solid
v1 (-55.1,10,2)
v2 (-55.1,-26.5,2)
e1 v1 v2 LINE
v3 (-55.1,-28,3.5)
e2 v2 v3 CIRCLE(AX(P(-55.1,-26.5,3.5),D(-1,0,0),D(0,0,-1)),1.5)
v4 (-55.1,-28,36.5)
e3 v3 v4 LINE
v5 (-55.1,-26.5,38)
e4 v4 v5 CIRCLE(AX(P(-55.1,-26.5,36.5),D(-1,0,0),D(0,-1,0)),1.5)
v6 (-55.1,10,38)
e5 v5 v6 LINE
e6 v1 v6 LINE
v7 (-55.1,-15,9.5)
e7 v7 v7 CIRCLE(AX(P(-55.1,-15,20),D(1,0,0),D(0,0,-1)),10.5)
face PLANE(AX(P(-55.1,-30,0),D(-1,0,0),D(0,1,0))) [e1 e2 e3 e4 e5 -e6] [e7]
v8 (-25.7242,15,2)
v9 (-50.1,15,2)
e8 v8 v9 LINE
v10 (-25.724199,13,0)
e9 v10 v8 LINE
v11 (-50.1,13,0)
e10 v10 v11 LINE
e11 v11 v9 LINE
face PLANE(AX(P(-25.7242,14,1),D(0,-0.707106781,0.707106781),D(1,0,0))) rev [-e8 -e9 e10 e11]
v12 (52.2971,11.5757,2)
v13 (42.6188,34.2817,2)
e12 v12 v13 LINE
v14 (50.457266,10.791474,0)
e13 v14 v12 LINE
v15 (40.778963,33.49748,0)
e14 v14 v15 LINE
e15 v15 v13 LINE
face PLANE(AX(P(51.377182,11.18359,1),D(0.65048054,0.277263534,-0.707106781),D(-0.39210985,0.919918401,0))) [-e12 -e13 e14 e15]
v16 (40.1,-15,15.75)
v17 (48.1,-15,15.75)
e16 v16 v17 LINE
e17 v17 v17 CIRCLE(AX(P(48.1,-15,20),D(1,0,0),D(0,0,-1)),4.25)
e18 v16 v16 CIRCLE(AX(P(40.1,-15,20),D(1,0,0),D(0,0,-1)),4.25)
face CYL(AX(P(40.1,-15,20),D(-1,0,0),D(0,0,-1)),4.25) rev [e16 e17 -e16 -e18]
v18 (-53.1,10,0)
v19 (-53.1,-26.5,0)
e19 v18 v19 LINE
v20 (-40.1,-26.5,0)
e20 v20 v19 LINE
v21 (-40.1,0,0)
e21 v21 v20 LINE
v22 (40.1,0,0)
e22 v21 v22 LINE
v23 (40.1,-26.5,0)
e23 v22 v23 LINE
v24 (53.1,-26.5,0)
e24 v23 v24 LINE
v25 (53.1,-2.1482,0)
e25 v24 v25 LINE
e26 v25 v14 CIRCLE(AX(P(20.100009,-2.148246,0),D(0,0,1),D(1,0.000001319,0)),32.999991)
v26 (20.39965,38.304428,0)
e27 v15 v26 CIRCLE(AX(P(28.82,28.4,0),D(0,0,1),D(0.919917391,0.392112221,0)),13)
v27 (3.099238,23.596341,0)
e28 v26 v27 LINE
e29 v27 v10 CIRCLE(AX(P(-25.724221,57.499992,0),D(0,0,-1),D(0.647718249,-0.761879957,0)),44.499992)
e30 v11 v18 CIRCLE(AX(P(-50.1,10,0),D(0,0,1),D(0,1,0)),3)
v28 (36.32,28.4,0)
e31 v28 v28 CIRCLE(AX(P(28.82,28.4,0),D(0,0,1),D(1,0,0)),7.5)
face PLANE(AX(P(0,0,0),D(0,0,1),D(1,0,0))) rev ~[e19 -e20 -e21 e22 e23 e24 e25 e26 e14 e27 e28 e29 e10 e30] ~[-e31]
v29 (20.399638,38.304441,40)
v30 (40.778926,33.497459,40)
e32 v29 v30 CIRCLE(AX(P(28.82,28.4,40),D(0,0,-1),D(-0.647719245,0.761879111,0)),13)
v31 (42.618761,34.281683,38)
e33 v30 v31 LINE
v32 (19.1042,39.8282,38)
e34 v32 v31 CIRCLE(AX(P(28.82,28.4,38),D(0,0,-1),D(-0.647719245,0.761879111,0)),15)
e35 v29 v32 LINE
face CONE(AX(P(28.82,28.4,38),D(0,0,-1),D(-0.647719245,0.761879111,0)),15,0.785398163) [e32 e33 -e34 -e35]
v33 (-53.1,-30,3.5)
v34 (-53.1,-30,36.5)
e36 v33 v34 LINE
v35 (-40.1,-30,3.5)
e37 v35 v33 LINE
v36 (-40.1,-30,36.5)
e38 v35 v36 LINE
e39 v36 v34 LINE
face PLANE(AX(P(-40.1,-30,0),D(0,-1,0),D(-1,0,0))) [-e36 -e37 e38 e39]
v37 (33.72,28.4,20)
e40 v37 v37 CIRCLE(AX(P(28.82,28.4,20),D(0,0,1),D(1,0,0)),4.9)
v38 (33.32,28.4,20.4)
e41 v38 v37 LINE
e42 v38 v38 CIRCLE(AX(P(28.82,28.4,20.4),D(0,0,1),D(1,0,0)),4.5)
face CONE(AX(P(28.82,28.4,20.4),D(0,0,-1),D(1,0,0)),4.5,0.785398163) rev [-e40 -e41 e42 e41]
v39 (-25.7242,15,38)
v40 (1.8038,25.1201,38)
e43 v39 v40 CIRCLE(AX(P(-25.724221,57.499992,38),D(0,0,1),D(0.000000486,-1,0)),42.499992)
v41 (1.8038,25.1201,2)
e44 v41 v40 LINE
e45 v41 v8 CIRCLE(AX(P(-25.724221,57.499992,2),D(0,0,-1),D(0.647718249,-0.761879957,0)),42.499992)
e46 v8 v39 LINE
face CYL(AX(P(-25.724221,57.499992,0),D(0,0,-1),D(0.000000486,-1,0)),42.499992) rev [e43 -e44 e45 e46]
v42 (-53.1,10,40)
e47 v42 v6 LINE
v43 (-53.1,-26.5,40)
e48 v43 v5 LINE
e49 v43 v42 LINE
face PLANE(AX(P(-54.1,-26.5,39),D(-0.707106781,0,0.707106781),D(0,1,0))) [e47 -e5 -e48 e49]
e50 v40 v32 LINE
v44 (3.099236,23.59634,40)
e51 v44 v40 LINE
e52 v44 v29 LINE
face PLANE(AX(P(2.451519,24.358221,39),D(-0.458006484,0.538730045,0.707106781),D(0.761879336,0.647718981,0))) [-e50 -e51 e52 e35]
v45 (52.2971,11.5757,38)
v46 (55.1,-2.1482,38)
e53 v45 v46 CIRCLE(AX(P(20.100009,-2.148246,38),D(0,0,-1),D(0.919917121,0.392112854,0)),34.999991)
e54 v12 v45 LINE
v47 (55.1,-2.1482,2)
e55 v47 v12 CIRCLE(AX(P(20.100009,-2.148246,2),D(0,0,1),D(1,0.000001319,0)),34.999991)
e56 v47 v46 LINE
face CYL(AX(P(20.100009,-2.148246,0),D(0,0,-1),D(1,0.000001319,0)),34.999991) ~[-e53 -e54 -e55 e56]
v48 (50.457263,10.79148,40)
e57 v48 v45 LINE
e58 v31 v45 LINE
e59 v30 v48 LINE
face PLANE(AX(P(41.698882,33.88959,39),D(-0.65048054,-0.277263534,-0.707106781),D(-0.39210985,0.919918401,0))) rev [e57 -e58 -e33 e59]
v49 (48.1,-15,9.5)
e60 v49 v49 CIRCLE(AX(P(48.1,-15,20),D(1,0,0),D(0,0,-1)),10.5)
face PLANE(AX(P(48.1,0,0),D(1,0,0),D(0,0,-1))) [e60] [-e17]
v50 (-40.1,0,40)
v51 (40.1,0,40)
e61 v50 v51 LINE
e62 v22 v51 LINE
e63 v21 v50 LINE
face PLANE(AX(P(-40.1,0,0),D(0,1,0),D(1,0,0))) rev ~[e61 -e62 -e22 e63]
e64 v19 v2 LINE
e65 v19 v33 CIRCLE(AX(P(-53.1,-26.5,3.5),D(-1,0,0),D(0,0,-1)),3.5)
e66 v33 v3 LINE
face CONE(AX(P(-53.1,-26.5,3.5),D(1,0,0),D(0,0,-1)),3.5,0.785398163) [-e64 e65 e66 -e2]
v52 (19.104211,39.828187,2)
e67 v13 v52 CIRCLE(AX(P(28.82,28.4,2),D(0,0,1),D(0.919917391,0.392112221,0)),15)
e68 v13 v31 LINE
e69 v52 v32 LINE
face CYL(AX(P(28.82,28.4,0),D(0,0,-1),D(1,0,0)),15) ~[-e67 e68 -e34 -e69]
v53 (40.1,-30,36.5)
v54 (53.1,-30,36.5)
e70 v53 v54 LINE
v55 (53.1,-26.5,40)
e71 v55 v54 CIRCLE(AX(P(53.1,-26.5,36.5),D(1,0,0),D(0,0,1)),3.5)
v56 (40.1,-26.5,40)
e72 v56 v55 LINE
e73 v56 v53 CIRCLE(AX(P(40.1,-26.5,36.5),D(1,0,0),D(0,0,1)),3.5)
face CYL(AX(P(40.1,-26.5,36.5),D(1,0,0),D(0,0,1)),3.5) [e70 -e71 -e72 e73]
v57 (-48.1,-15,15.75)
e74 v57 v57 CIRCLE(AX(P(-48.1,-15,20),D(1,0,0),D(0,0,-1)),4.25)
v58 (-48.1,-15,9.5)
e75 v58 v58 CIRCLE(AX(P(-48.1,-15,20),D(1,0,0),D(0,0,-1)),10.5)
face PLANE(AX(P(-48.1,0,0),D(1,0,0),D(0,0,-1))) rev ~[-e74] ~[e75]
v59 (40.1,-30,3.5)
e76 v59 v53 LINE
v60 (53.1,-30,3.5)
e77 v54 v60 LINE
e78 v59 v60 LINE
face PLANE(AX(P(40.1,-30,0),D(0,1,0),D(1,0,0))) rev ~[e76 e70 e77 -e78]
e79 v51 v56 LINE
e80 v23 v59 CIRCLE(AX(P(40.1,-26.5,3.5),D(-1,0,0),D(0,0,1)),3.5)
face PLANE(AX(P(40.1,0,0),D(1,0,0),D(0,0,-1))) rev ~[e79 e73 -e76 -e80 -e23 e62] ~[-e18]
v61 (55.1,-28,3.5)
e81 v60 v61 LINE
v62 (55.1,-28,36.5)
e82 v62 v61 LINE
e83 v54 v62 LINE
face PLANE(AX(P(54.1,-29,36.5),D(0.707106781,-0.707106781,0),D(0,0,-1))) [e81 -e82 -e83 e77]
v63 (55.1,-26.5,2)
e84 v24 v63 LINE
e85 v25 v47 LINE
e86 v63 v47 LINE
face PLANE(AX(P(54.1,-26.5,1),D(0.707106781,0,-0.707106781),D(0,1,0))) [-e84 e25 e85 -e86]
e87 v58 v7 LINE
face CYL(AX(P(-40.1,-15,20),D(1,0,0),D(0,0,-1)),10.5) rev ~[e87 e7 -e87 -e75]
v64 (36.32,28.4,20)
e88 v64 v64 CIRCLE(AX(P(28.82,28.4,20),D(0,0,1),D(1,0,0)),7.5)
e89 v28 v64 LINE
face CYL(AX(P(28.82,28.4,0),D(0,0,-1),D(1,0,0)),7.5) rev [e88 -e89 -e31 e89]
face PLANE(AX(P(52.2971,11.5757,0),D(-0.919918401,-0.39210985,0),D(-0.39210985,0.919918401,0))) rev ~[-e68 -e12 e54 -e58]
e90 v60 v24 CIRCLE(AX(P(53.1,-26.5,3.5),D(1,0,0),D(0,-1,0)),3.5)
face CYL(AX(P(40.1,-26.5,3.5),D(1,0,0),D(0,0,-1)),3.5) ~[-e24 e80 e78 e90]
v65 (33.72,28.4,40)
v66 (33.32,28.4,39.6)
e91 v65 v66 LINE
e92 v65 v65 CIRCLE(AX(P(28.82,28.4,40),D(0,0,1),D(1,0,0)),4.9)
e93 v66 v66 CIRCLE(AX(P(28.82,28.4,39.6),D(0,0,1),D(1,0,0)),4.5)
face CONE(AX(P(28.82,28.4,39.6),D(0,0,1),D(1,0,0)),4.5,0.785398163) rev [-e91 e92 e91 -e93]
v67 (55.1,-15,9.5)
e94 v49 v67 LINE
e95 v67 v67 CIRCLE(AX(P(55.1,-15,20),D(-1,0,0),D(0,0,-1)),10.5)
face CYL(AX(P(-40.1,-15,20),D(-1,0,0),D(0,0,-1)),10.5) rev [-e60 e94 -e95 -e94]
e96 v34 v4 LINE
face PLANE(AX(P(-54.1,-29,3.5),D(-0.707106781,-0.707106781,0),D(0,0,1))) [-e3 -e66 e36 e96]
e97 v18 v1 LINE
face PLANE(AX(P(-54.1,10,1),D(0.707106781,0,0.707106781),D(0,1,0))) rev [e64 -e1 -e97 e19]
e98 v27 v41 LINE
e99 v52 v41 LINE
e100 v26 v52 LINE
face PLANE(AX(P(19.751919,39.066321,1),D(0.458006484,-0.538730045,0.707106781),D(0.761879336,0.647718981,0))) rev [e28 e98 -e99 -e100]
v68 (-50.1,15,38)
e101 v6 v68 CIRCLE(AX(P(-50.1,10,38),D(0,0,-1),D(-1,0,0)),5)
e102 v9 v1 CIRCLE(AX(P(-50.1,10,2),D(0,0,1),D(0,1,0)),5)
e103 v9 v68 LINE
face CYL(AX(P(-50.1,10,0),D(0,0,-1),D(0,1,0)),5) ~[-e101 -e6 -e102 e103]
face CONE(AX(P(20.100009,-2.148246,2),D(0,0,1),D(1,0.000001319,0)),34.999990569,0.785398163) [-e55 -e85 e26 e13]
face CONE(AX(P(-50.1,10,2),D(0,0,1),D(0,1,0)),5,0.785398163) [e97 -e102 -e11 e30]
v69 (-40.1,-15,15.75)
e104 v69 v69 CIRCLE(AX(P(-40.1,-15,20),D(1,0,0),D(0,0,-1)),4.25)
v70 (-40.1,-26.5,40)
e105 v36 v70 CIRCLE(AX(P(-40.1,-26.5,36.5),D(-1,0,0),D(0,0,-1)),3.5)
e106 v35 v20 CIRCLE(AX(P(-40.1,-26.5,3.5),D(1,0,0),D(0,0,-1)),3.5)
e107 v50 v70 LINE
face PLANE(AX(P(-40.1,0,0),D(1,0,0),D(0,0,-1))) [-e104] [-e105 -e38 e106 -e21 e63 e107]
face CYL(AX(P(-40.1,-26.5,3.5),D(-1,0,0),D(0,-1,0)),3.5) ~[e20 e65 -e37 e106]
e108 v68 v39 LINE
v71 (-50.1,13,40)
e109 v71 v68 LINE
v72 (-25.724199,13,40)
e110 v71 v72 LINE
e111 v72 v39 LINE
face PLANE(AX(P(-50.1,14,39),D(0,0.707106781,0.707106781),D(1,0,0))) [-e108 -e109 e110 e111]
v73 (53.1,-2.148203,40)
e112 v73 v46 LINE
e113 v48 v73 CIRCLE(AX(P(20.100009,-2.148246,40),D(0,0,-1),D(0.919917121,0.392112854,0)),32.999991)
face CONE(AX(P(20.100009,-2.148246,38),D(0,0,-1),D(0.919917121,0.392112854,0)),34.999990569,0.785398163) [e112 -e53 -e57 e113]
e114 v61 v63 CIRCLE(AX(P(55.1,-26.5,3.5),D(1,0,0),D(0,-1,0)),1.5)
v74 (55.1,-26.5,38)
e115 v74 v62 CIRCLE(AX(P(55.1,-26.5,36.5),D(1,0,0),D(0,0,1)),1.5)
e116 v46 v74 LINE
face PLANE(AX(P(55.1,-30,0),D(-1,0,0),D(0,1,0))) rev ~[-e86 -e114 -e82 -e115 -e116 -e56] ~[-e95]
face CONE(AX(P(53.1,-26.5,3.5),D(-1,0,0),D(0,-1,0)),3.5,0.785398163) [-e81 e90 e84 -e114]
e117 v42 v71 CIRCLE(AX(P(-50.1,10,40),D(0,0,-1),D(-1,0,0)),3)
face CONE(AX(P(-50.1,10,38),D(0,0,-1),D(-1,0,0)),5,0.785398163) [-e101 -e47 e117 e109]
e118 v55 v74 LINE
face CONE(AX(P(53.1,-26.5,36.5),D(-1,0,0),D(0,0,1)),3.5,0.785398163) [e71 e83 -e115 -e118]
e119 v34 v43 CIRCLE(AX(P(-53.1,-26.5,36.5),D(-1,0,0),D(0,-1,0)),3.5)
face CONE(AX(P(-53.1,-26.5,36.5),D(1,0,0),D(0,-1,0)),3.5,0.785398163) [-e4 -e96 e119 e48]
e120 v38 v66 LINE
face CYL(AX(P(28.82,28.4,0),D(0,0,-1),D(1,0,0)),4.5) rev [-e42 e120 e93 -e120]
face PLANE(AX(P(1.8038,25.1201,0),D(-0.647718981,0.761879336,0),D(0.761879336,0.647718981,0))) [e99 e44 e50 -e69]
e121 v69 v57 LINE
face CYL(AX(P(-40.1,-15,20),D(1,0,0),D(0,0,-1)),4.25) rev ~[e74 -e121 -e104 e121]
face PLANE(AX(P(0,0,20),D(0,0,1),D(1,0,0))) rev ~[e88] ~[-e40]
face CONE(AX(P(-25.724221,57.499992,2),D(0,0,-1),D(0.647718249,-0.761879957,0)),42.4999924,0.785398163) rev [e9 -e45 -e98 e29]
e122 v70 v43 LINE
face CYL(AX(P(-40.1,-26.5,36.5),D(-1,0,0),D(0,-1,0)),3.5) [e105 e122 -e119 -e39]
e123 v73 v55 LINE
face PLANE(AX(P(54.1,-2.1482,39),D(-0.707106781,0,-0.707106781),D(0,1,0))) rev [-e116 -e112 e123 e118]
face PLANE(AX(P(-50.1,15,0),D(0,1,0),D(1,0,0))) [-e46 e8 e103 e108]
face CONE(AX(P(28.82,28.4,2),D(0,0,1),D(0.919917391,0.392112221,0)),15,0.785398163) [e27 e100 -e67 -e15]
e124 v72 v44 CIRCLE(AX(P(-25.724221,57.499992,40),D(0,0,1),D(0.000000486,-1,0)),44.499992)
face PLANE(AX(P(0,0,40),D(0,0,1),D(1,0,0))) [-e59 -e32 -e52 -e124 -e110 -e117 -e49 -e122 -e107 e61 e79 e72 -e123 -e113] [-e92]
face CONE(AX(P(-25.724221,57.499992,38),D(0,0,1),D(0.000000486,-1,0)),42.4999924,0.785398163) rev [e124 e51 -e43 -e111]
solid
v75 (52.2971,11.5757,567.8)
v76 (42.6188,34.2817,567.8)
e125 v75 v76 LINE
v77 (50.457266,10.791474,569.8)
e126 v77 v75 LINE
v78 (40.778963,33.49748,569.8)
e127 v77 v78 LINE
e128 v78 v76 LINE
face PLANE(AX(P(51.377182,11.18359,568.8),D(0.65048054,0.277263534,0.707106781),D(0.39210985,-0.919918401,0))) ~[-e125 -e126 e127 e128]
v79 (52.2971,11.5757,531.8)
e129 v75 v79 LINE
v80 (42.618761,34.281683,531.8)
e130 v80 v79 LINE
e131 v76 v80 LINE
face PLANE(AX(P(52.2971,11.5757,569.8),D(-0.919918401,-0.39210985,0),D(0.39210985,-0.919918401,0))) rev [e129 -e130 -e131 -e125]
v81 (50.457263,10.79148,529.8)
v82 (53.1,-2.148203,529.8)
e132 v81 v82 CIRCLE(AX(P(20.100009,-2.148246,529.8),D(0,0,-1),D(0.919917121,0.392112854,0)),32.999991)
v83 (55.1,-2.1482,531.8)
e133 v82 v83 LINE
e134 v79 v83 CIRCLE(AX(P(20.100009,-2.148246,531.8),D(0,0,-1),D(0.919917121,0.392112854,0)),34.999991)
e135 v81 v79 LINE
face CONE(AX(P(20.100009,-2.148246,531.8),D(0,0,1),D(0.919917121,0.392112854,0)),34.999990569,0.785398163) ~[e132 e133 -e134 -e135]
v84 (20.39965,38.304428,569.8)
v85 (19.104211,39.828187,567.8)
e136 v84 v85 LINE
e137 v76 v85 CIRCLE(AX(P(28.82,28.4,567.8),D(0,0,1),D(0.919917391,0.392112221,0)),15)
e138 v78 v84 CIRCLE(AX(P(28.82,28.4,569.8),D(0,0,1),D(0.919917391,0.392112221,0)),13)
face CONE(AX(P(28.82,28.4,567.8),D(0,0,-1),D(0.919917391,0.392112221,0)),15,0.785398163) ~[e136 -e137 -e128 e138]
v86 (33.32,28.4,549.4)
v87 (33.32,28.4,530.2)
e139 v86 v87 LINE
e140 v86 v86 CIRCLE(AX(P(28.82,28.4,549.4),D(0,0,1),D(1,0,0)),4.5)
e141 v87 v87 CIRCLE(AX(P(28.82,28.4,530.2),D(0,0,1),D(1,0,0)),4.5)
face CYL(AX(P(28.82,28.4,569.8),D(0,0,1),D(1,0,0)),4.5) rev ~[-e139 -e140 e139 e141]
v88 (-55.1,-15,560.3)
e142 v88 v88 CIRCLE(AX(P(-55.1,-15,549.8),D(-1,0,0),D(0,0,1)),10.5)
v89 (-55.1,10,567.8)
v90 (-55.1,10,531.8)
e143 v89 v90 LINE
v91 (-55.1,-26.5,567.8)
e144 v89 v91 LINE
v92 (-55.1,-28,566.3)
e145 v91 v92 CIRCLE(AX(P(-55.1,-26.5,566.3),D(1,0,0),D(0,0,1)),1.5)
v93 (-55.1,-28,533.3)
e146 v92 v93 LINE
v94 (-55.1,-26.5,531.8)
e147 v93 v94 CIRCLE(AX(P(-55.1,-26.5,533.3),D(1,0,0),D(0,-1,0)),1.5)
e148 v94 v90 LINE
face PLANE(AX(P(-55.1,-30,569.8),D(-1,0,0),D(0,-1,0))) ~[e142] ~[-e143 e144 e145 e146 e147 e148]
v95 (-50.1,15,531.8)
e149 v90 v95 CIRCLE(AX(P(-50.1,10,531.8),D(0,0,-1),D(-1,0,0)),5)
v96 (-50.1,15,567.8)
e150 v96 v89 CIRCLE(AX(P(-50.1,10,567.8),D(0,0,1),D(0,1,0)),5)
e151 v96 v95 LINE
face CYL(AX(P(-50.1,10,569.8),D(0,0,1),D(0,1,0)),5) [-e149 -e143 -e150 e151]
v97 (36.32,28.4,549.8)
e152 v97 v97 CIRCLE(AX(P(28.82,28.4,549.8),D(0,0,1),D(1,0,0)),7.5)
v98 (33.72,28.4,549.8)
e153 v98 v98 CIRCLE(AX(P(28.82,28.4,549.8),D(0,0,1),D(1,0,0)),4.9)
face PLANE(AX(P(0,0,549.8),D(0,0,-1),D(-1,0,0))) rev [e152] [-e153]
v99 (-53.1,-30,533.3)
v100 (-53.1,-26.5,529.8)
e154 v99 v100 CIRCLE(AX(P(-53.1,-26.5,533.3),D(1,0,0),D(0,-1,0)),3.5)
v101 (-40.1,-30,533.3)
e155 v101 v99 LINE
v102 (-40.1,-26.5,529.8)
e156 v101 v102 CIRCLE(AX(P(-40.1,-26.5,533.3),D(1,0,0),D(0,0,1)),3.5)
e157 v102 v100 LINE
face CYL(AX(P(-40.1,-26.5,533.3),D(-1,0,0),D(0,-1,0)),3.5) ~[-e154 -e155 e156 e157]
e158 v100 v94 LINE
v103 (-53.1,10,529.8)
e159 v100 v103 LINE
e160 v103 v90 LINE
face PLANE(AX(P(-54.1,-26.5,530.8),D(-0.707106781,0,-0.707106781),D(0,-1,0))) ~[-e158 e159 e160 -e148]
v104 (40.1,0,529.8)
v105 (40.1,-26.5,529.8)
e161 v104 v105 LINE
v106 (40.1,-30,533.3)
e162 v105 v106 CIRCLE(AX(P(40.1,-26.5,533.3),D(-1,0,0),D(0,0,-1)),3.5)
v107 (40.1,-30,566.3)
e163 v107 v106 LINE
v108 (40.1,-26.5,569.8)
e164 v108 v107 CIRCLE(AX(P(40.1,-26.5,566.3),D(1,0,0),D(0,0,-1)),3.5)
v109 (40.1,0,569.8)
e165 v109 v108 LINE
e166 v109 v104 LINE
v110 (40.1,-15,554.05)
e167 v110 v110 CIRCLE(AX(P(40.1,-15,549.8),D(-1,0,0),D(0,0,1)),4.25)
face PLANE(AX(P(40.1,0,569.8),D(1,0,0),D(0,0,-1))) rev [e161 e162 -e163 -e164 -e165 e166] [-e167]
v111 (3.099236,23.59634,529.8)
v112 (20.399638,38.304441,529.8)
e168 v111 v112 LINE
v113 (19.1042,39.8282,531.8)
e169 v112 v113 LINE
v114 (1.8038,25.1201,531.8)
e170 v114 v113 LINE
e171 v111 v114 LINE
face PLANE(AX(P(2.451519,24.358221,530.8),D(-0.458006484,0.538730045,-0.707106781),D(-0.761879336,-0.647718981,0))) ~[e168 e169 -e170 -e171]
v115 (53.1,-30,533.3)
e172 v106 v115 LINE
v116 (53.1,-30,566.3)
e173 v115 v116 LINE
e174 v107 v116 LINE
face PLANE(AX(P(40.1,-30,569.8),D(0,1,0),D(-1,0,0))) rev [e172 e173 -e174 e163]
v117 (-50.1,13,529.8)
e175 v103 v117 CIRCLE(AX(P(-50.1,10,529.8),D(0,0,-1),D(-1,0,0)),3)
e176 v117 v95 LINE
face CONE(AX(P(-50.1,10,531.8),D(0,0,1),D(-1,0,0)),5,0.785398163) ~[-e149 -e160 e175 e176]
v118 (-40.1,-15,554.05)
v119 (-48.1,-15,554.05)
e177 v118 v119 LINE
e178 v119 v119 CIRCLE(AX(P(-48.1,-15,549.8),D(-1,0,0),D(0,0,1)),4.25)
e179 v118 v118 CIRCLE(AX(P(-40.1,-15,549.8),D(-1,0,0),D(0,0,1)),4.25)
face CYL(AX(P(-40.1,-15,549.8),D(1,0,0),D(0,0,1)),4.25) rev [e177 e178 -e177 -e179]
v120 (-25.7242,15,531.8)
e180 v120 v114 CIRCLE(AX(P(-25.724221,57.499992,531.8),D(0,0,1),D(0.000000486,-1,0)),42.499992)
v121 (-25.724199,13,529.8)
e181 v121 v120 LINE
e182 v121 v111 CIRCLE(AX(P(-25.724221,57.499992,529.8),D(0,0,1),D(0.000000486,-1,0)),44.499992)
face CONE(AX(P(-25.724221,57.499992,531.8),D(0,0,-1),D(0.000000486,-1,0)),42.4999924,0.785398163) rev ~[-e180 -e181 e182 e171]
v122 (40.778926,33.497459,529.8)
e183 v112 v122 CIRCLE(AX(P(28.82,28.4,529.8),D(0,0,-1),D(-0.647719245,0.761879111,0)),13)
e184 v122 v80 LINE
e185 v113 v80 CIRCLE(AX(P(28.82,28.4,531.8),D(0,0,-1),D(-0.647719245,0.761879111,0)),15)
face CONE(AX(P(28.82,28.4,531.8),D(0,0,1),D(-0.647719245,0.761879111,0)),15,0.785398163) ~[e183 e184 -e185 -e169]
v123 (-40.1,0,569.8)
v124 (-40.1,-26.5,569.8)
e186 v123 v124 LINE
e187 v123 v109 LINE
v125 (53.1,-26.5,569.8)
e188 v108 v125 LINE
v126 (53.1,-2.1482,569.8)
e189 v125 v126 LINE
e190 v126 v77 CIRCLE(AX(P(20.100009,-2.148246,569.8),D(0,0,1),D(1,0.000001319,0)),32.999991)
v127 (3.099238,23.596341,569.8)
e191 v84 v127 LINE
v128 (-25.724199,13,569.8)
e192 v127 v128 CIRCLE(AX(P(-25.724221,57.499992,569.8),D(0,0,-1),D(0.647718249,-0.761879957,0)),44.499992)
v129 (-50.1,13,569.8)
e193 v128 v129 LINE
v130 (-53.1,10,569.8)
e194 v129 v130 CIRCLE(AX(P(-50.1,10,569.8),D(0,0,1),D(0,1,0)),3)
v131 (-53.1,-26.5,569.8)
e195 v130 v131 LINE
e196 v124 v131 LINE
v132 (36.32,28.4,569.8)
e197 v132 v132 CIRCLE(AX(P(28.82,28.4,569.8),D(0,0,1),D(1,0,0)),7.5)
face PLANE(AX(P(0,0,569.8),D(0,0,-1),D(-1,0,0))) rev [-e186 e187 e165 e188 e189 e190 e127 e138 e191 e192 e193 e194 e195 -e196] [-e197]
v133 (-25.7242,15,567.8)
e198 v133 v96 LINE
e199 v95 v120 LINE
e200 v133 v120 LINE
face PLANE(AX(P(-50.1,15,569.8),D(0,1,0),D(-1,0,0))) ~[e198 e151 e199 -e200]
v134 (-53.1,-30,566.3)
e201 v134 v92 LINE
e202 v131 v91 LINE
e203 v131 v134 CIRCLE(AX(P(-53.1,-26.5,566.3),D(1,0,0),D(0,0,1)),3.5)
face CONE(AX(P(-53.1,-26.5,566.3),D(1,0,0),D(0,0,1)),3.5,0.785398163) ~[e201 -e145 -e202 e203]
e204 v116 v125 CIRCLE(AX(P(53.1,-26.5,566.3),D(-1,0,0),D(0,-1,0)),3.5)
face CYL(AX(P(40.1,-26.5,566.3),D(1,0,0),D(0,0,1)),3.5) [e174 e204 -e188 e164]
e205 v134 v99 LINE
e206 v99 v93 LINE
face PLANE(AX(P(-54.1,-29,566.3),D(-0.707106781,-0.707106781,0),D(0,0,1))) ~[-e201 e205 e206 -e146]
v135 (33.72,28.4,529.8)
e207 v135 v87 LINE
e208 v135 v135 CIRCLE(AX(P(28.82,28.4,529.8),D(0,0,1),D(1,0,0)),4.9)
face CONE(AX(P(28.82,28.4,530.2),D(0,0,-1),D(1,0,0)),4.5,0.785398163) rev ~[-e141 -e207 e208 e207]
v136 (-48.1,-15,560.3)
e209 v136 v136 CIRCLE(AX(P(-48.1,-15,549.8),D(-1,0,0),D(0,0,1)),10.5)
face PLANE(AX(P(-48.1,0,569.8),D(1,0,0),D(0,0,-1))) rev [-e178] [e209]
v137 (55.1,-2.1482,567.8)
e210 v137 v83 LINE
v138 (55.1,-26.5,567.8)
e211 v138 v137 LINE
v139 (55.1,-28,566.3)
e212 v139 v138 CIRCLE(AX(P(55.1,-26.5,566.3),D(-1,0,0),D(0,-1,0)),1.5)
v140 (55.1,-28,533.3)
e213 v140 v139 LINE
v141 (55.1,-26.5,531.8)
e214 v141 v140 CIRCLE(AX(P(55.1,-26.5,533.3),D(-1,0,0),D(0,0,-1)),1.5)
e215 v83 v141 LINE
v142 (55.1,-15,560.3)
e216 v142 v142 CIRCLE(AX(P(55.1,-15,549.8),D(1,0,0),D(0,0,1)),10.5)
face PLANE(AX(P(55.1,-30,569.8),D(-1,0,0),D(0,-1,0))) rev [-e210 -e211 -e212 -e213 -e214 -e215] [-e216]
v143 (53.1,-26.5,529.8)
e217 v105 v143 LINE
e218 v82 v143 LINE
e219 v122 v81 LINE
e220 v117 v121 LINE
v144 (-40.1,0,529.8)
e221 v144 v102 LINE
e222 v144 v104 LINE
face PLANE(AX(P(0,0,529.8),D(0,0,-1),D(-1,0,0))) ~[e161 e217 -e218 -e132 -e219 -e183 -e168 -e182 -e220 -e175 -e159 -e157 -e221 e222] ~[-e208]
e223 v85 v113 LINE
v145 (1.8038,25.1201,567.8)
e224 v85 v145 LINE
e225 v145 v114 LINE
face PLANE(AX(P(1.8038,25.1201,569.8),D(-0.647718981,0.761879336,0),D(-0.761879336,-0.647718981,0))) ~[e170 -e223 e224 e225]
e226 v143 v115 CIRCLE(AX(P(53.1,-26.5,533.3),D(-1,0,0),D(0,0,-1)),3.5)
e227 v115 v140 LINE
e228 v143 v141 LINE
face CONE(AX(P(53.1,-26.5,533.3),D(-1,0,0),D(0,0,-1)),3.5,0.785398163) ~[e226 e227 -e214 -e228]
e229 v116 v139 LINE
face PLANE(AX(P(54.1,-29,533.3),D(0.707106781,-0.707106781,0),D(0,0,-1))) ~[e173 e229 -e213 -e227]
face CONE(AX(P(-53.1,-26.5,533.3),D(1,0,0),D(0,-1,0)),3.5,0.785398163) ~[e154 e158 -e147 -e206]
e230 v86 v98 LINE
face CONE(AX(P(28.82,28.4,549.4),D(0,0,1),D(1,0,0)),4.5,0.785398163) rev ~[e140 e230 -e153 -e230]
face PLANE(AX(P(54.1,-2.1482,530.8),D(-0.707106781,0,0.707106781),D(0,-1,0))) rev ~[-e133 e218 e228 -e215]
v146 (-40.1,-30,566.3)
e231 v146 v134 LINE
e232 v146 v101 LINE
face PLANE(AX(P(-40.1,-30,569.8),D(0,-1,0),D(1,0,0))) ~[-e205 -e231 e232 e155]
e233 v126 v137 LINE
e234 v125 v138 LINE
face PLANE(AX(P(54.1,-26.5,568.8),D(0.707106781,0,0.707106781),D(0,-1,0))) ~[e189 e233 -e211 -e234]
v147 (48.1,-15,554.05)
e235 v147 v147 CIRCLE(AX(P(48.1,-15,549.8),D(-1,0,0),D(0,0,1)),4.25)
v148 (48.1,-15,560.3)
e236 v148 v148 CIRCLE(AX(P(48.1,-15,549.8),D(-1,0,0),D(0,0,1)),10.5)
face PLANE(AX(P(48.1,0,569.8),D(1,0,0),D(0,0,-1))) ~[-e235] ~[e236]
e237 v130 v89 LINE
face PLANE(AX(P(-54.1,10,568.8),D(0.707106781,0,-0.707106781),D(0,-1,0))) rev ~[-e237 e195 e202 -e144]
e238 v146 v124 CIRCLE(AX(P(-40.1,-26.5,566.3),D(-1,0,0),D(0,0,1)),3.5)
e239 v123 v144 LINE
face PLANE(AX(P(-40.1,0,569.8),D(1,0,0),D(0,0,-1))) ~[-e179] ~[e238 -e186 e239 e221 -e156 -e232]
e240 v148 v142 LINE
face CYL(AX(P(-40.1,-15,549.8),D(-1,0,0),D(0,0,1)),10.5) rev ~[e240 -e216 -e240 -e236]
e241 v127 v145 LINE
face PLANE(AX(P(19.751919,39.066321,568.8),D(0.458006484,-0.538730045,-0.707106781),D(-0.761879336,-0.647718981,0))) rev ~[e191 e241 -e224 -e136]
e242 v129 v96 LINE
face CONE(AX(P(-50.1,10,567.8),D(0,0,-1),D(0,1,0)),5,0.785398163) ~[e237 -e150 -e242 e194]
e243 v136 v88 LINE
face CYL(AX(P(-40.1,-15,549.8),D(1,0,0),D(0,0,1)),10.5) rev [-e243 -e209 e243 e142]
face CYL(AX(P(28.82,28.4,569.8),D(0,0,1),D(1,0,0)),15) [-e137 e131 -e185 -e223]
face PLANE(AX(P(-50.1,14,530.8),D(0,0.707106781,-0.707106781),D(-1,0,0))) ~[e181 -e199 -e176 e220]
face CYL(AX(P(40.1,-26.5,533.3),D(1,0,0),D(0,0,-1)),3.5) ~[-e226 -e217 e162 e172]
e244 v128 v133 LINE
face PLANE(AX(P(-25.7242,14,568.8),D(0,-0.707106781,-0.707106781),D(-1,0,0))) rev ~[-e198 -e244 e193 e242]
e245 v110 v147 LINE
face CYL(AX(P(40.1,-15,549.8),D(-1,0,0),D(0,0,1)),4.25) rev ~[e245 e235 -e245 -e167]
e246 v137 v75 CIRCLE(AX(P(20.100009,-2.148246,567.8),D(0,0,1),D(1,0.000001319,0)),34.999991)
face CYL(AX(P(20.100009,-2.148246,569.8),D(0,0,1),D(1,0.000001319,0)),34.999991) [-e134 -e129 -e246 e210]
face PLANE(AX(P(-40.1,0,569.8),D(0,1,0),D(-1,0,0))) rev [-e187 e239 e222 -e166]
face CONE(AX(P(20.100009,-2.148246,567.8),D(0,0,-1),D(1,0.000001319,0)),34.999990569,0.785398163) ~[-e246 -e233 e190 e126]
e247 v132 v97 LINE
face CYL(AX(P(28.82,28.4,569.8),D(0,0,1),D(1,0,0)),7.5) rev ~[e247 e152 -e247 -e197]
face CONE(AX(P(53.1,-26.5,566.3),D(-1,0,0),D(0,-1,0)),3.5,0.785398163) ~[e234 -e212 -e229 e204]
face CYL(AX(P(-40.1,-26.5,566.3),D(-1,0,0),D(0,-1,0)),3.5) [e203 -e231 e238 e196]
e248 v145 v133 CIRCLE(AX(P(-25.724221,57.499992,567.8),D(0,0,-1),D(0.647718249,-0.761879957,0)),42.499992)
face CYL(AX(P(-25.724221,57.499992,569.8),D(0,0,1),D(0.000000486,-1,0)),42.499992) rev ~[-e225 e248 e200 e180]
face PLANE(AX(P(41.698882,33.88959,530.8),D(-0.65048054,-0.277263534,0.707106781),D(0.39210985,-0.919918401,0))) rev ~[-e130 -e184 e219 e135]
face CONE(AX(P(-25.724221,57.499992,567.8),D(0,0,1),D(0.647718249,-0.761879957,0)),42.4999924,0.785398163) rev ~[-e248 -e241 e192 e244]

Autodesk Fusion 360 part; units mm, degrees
sketch "Sketch1" plane through (0, 0, 0) normal (0, 0, 1) x (1, 0, 0)
  line L0 (-40.1, 0) -> (40.1, 0)
  line L1 (40.1, 0) -> (40.1, -30)
  line L2 (40.1, -30) -> (55.1, -30)
  line L3 (55.1, -30) -> (55.1, -2.1482)
  line L4 (52.2971, 11.5757) -> (42.6188, 34.2817)
  circle A0 centre (28.82, 28.4) radius 15
  circle A1 centre (28.82, 28.4) radius 4.5
  line L5 (-40.1, 0) -> (-40.1, -30)
  line L6 (-40.1, -30) -> (-55.1, -30)
  line L7 (-55.1, -30) -> (-55.1, 10)
  line L8 (-50.1, 15) -> (-25.7242, 15)
  line L9 (1.8038, 25.1201) -> (19.1042, 39.8282)
  arc A2 (-25.7242, 15) -> (1.8038, 25.1201) centre (-25.7242, 57.5) ccw
  arc A3 (-50.1, 15) -> (-55.1, 10) centre (-50.1, 10) ccw
  arc A4 (55.1, -2.1482) -> (52.2971, 11.5757) centre (20.1, -2.1482) ccw
  circle A5 centre (28.82, 28.4) radius 7.5
  point P0 (55.1, 5)
  point P1 (-55.1, 15)
  point P2 (-10.1, 15)
  dimension "d1" = 80.2
  dimension "d2" = 15
  dimension "d3" = 11.28
  dimension "d4" = 28.4
  dimension "d5" = 30
  dimension "d6" = 9
  dimension "d7" = 5
  dimension "d8" = 30
  dimension "d9" = 15
  dimension "d10" = 15
  dimension "d13" = 45
  dimension "d14" = 42.5
  dimension "d15" = 5
  dimension "d16" = 35
  dimension "d19" = 15
extrude "Extrude1" add sketch "Sketch1" along normal blind 40 contours L0 L1 L2 L3 L4 A0 L5 L6 L7 L8 L9 A2 A3 A4 | A0 | A5 makes body 1
extrude "Extrude2" cut sketch "Sketch1" along normal blind 20 contours A5 bodies 1
fillet "Fillet1" radius 3.5 4 edges at (47.6, -30, 40) (47.6, -30, 0) (-47.6, -30, 0) (-47.6, -30, 40) on bodies 1
chamfer "Chamfer1" distance 2 angle 45 18 edges at (-11.0596, 17.6102, 40) (-37.9121, 15, 40) (-53.6355, 13.5355, 40) (-55.1, -10, 40) (55.1, -16.0741, 40) (54.3921, 4.8554, 40) (47.4579, 22.9287, 40) (32.2636, 42.9994, 40) (10.454, 32.4741, 40) (47.4579, 22.9287, 0) (32.2636, 42.9994, 0) (10.454, 32.4741, 0) (-11.0596, 17.6102, 0) (-37.9121, 15, 0) (-53.6355, 13.5355, 0) (-55.1, -10, 0) (55.1, -16.0741, 0) (54.3921, 4.8554, 0) on bodies 1
chamfer "Chamfer1" distance 0.4 angle 45 1 faces at (33.2976, 27.9519, 26.6667) on bodies 1
sketch "Sketch2" plane through (-40.1, 0, 0) normal (1, 0, 0) x (0, 0, -1)
  line L0 (0, -26.5) -> (0, 0)
  line L1 (0, 0) -> (-40, 0)
  line L2 (-40, 0) -> (-40, -26.5)
  line L3 (-36.5, -30) -> (-3.5, -30)
  circle A0 centre (-20, -15) radius 10.5
  circle A1 centre (-20, -15) radius 4.25
  arc A2 (-40, -26.5) -> (-36.5, -30) centre (-36.5, -26.5) ccw
  arc A3 (-3.5, -30) -> (0, -26.5) centre (-3.5, -26.5) ccw
  line L4 (0, -26.5) -> (0, -30) construction
  line L5 (0, -30) -> (-3.5, -30) construction
  line L6 (0, -30) -> (-40, 0) construction
  dimension "d22" = 21
  dimension "d23" = 8.5
extrude "Extrude3" cut sketch "Sketch2" along normal mid plane 280 contours A0 | A1 bodies 1
extrude "Extrude4" add sketch "Sketch2" against normal blind 8 contours A0 bodies 1
extrude "Extrude5" add sketch "Sketch2" along normal blind 8 from surface at 80.2 contours A0 bodies 1
ref_plane "WorkPlane1" through (0, 7.3702, 284.9) normal (0, 0, 1) x (1, 0, 0)
mirror "Mirror1" about plane through (0, 7.3702, 284.9) normal (0, 0, 1) of bodies 1 makes body 2
copy_body "Body->Comp1" bodies 1 removing the originals makes body 3 in component "wheelstand base cover RH"
copy_body "Body->Comp2" bodies 2 removing the originals makes body 4 in component "wheelstand base cover LH"
component "wheelstand base cover RH" placed x (1, 0, 0) y (0, 1, 0) z (0, 0, 1) at (0, 0, 0)
component "wheelstand base cover LH" placed x (1, 0, 0) y (0, 1, 0) z (0, 0, 1) at (0, 0, 0)
equation "d3 = 20 mm - 8.72 mm"
equation "d4 = 30 mm - 1.6 mm"
equation "d33 = ( 489.8 / 2 ) * 1 mm"
